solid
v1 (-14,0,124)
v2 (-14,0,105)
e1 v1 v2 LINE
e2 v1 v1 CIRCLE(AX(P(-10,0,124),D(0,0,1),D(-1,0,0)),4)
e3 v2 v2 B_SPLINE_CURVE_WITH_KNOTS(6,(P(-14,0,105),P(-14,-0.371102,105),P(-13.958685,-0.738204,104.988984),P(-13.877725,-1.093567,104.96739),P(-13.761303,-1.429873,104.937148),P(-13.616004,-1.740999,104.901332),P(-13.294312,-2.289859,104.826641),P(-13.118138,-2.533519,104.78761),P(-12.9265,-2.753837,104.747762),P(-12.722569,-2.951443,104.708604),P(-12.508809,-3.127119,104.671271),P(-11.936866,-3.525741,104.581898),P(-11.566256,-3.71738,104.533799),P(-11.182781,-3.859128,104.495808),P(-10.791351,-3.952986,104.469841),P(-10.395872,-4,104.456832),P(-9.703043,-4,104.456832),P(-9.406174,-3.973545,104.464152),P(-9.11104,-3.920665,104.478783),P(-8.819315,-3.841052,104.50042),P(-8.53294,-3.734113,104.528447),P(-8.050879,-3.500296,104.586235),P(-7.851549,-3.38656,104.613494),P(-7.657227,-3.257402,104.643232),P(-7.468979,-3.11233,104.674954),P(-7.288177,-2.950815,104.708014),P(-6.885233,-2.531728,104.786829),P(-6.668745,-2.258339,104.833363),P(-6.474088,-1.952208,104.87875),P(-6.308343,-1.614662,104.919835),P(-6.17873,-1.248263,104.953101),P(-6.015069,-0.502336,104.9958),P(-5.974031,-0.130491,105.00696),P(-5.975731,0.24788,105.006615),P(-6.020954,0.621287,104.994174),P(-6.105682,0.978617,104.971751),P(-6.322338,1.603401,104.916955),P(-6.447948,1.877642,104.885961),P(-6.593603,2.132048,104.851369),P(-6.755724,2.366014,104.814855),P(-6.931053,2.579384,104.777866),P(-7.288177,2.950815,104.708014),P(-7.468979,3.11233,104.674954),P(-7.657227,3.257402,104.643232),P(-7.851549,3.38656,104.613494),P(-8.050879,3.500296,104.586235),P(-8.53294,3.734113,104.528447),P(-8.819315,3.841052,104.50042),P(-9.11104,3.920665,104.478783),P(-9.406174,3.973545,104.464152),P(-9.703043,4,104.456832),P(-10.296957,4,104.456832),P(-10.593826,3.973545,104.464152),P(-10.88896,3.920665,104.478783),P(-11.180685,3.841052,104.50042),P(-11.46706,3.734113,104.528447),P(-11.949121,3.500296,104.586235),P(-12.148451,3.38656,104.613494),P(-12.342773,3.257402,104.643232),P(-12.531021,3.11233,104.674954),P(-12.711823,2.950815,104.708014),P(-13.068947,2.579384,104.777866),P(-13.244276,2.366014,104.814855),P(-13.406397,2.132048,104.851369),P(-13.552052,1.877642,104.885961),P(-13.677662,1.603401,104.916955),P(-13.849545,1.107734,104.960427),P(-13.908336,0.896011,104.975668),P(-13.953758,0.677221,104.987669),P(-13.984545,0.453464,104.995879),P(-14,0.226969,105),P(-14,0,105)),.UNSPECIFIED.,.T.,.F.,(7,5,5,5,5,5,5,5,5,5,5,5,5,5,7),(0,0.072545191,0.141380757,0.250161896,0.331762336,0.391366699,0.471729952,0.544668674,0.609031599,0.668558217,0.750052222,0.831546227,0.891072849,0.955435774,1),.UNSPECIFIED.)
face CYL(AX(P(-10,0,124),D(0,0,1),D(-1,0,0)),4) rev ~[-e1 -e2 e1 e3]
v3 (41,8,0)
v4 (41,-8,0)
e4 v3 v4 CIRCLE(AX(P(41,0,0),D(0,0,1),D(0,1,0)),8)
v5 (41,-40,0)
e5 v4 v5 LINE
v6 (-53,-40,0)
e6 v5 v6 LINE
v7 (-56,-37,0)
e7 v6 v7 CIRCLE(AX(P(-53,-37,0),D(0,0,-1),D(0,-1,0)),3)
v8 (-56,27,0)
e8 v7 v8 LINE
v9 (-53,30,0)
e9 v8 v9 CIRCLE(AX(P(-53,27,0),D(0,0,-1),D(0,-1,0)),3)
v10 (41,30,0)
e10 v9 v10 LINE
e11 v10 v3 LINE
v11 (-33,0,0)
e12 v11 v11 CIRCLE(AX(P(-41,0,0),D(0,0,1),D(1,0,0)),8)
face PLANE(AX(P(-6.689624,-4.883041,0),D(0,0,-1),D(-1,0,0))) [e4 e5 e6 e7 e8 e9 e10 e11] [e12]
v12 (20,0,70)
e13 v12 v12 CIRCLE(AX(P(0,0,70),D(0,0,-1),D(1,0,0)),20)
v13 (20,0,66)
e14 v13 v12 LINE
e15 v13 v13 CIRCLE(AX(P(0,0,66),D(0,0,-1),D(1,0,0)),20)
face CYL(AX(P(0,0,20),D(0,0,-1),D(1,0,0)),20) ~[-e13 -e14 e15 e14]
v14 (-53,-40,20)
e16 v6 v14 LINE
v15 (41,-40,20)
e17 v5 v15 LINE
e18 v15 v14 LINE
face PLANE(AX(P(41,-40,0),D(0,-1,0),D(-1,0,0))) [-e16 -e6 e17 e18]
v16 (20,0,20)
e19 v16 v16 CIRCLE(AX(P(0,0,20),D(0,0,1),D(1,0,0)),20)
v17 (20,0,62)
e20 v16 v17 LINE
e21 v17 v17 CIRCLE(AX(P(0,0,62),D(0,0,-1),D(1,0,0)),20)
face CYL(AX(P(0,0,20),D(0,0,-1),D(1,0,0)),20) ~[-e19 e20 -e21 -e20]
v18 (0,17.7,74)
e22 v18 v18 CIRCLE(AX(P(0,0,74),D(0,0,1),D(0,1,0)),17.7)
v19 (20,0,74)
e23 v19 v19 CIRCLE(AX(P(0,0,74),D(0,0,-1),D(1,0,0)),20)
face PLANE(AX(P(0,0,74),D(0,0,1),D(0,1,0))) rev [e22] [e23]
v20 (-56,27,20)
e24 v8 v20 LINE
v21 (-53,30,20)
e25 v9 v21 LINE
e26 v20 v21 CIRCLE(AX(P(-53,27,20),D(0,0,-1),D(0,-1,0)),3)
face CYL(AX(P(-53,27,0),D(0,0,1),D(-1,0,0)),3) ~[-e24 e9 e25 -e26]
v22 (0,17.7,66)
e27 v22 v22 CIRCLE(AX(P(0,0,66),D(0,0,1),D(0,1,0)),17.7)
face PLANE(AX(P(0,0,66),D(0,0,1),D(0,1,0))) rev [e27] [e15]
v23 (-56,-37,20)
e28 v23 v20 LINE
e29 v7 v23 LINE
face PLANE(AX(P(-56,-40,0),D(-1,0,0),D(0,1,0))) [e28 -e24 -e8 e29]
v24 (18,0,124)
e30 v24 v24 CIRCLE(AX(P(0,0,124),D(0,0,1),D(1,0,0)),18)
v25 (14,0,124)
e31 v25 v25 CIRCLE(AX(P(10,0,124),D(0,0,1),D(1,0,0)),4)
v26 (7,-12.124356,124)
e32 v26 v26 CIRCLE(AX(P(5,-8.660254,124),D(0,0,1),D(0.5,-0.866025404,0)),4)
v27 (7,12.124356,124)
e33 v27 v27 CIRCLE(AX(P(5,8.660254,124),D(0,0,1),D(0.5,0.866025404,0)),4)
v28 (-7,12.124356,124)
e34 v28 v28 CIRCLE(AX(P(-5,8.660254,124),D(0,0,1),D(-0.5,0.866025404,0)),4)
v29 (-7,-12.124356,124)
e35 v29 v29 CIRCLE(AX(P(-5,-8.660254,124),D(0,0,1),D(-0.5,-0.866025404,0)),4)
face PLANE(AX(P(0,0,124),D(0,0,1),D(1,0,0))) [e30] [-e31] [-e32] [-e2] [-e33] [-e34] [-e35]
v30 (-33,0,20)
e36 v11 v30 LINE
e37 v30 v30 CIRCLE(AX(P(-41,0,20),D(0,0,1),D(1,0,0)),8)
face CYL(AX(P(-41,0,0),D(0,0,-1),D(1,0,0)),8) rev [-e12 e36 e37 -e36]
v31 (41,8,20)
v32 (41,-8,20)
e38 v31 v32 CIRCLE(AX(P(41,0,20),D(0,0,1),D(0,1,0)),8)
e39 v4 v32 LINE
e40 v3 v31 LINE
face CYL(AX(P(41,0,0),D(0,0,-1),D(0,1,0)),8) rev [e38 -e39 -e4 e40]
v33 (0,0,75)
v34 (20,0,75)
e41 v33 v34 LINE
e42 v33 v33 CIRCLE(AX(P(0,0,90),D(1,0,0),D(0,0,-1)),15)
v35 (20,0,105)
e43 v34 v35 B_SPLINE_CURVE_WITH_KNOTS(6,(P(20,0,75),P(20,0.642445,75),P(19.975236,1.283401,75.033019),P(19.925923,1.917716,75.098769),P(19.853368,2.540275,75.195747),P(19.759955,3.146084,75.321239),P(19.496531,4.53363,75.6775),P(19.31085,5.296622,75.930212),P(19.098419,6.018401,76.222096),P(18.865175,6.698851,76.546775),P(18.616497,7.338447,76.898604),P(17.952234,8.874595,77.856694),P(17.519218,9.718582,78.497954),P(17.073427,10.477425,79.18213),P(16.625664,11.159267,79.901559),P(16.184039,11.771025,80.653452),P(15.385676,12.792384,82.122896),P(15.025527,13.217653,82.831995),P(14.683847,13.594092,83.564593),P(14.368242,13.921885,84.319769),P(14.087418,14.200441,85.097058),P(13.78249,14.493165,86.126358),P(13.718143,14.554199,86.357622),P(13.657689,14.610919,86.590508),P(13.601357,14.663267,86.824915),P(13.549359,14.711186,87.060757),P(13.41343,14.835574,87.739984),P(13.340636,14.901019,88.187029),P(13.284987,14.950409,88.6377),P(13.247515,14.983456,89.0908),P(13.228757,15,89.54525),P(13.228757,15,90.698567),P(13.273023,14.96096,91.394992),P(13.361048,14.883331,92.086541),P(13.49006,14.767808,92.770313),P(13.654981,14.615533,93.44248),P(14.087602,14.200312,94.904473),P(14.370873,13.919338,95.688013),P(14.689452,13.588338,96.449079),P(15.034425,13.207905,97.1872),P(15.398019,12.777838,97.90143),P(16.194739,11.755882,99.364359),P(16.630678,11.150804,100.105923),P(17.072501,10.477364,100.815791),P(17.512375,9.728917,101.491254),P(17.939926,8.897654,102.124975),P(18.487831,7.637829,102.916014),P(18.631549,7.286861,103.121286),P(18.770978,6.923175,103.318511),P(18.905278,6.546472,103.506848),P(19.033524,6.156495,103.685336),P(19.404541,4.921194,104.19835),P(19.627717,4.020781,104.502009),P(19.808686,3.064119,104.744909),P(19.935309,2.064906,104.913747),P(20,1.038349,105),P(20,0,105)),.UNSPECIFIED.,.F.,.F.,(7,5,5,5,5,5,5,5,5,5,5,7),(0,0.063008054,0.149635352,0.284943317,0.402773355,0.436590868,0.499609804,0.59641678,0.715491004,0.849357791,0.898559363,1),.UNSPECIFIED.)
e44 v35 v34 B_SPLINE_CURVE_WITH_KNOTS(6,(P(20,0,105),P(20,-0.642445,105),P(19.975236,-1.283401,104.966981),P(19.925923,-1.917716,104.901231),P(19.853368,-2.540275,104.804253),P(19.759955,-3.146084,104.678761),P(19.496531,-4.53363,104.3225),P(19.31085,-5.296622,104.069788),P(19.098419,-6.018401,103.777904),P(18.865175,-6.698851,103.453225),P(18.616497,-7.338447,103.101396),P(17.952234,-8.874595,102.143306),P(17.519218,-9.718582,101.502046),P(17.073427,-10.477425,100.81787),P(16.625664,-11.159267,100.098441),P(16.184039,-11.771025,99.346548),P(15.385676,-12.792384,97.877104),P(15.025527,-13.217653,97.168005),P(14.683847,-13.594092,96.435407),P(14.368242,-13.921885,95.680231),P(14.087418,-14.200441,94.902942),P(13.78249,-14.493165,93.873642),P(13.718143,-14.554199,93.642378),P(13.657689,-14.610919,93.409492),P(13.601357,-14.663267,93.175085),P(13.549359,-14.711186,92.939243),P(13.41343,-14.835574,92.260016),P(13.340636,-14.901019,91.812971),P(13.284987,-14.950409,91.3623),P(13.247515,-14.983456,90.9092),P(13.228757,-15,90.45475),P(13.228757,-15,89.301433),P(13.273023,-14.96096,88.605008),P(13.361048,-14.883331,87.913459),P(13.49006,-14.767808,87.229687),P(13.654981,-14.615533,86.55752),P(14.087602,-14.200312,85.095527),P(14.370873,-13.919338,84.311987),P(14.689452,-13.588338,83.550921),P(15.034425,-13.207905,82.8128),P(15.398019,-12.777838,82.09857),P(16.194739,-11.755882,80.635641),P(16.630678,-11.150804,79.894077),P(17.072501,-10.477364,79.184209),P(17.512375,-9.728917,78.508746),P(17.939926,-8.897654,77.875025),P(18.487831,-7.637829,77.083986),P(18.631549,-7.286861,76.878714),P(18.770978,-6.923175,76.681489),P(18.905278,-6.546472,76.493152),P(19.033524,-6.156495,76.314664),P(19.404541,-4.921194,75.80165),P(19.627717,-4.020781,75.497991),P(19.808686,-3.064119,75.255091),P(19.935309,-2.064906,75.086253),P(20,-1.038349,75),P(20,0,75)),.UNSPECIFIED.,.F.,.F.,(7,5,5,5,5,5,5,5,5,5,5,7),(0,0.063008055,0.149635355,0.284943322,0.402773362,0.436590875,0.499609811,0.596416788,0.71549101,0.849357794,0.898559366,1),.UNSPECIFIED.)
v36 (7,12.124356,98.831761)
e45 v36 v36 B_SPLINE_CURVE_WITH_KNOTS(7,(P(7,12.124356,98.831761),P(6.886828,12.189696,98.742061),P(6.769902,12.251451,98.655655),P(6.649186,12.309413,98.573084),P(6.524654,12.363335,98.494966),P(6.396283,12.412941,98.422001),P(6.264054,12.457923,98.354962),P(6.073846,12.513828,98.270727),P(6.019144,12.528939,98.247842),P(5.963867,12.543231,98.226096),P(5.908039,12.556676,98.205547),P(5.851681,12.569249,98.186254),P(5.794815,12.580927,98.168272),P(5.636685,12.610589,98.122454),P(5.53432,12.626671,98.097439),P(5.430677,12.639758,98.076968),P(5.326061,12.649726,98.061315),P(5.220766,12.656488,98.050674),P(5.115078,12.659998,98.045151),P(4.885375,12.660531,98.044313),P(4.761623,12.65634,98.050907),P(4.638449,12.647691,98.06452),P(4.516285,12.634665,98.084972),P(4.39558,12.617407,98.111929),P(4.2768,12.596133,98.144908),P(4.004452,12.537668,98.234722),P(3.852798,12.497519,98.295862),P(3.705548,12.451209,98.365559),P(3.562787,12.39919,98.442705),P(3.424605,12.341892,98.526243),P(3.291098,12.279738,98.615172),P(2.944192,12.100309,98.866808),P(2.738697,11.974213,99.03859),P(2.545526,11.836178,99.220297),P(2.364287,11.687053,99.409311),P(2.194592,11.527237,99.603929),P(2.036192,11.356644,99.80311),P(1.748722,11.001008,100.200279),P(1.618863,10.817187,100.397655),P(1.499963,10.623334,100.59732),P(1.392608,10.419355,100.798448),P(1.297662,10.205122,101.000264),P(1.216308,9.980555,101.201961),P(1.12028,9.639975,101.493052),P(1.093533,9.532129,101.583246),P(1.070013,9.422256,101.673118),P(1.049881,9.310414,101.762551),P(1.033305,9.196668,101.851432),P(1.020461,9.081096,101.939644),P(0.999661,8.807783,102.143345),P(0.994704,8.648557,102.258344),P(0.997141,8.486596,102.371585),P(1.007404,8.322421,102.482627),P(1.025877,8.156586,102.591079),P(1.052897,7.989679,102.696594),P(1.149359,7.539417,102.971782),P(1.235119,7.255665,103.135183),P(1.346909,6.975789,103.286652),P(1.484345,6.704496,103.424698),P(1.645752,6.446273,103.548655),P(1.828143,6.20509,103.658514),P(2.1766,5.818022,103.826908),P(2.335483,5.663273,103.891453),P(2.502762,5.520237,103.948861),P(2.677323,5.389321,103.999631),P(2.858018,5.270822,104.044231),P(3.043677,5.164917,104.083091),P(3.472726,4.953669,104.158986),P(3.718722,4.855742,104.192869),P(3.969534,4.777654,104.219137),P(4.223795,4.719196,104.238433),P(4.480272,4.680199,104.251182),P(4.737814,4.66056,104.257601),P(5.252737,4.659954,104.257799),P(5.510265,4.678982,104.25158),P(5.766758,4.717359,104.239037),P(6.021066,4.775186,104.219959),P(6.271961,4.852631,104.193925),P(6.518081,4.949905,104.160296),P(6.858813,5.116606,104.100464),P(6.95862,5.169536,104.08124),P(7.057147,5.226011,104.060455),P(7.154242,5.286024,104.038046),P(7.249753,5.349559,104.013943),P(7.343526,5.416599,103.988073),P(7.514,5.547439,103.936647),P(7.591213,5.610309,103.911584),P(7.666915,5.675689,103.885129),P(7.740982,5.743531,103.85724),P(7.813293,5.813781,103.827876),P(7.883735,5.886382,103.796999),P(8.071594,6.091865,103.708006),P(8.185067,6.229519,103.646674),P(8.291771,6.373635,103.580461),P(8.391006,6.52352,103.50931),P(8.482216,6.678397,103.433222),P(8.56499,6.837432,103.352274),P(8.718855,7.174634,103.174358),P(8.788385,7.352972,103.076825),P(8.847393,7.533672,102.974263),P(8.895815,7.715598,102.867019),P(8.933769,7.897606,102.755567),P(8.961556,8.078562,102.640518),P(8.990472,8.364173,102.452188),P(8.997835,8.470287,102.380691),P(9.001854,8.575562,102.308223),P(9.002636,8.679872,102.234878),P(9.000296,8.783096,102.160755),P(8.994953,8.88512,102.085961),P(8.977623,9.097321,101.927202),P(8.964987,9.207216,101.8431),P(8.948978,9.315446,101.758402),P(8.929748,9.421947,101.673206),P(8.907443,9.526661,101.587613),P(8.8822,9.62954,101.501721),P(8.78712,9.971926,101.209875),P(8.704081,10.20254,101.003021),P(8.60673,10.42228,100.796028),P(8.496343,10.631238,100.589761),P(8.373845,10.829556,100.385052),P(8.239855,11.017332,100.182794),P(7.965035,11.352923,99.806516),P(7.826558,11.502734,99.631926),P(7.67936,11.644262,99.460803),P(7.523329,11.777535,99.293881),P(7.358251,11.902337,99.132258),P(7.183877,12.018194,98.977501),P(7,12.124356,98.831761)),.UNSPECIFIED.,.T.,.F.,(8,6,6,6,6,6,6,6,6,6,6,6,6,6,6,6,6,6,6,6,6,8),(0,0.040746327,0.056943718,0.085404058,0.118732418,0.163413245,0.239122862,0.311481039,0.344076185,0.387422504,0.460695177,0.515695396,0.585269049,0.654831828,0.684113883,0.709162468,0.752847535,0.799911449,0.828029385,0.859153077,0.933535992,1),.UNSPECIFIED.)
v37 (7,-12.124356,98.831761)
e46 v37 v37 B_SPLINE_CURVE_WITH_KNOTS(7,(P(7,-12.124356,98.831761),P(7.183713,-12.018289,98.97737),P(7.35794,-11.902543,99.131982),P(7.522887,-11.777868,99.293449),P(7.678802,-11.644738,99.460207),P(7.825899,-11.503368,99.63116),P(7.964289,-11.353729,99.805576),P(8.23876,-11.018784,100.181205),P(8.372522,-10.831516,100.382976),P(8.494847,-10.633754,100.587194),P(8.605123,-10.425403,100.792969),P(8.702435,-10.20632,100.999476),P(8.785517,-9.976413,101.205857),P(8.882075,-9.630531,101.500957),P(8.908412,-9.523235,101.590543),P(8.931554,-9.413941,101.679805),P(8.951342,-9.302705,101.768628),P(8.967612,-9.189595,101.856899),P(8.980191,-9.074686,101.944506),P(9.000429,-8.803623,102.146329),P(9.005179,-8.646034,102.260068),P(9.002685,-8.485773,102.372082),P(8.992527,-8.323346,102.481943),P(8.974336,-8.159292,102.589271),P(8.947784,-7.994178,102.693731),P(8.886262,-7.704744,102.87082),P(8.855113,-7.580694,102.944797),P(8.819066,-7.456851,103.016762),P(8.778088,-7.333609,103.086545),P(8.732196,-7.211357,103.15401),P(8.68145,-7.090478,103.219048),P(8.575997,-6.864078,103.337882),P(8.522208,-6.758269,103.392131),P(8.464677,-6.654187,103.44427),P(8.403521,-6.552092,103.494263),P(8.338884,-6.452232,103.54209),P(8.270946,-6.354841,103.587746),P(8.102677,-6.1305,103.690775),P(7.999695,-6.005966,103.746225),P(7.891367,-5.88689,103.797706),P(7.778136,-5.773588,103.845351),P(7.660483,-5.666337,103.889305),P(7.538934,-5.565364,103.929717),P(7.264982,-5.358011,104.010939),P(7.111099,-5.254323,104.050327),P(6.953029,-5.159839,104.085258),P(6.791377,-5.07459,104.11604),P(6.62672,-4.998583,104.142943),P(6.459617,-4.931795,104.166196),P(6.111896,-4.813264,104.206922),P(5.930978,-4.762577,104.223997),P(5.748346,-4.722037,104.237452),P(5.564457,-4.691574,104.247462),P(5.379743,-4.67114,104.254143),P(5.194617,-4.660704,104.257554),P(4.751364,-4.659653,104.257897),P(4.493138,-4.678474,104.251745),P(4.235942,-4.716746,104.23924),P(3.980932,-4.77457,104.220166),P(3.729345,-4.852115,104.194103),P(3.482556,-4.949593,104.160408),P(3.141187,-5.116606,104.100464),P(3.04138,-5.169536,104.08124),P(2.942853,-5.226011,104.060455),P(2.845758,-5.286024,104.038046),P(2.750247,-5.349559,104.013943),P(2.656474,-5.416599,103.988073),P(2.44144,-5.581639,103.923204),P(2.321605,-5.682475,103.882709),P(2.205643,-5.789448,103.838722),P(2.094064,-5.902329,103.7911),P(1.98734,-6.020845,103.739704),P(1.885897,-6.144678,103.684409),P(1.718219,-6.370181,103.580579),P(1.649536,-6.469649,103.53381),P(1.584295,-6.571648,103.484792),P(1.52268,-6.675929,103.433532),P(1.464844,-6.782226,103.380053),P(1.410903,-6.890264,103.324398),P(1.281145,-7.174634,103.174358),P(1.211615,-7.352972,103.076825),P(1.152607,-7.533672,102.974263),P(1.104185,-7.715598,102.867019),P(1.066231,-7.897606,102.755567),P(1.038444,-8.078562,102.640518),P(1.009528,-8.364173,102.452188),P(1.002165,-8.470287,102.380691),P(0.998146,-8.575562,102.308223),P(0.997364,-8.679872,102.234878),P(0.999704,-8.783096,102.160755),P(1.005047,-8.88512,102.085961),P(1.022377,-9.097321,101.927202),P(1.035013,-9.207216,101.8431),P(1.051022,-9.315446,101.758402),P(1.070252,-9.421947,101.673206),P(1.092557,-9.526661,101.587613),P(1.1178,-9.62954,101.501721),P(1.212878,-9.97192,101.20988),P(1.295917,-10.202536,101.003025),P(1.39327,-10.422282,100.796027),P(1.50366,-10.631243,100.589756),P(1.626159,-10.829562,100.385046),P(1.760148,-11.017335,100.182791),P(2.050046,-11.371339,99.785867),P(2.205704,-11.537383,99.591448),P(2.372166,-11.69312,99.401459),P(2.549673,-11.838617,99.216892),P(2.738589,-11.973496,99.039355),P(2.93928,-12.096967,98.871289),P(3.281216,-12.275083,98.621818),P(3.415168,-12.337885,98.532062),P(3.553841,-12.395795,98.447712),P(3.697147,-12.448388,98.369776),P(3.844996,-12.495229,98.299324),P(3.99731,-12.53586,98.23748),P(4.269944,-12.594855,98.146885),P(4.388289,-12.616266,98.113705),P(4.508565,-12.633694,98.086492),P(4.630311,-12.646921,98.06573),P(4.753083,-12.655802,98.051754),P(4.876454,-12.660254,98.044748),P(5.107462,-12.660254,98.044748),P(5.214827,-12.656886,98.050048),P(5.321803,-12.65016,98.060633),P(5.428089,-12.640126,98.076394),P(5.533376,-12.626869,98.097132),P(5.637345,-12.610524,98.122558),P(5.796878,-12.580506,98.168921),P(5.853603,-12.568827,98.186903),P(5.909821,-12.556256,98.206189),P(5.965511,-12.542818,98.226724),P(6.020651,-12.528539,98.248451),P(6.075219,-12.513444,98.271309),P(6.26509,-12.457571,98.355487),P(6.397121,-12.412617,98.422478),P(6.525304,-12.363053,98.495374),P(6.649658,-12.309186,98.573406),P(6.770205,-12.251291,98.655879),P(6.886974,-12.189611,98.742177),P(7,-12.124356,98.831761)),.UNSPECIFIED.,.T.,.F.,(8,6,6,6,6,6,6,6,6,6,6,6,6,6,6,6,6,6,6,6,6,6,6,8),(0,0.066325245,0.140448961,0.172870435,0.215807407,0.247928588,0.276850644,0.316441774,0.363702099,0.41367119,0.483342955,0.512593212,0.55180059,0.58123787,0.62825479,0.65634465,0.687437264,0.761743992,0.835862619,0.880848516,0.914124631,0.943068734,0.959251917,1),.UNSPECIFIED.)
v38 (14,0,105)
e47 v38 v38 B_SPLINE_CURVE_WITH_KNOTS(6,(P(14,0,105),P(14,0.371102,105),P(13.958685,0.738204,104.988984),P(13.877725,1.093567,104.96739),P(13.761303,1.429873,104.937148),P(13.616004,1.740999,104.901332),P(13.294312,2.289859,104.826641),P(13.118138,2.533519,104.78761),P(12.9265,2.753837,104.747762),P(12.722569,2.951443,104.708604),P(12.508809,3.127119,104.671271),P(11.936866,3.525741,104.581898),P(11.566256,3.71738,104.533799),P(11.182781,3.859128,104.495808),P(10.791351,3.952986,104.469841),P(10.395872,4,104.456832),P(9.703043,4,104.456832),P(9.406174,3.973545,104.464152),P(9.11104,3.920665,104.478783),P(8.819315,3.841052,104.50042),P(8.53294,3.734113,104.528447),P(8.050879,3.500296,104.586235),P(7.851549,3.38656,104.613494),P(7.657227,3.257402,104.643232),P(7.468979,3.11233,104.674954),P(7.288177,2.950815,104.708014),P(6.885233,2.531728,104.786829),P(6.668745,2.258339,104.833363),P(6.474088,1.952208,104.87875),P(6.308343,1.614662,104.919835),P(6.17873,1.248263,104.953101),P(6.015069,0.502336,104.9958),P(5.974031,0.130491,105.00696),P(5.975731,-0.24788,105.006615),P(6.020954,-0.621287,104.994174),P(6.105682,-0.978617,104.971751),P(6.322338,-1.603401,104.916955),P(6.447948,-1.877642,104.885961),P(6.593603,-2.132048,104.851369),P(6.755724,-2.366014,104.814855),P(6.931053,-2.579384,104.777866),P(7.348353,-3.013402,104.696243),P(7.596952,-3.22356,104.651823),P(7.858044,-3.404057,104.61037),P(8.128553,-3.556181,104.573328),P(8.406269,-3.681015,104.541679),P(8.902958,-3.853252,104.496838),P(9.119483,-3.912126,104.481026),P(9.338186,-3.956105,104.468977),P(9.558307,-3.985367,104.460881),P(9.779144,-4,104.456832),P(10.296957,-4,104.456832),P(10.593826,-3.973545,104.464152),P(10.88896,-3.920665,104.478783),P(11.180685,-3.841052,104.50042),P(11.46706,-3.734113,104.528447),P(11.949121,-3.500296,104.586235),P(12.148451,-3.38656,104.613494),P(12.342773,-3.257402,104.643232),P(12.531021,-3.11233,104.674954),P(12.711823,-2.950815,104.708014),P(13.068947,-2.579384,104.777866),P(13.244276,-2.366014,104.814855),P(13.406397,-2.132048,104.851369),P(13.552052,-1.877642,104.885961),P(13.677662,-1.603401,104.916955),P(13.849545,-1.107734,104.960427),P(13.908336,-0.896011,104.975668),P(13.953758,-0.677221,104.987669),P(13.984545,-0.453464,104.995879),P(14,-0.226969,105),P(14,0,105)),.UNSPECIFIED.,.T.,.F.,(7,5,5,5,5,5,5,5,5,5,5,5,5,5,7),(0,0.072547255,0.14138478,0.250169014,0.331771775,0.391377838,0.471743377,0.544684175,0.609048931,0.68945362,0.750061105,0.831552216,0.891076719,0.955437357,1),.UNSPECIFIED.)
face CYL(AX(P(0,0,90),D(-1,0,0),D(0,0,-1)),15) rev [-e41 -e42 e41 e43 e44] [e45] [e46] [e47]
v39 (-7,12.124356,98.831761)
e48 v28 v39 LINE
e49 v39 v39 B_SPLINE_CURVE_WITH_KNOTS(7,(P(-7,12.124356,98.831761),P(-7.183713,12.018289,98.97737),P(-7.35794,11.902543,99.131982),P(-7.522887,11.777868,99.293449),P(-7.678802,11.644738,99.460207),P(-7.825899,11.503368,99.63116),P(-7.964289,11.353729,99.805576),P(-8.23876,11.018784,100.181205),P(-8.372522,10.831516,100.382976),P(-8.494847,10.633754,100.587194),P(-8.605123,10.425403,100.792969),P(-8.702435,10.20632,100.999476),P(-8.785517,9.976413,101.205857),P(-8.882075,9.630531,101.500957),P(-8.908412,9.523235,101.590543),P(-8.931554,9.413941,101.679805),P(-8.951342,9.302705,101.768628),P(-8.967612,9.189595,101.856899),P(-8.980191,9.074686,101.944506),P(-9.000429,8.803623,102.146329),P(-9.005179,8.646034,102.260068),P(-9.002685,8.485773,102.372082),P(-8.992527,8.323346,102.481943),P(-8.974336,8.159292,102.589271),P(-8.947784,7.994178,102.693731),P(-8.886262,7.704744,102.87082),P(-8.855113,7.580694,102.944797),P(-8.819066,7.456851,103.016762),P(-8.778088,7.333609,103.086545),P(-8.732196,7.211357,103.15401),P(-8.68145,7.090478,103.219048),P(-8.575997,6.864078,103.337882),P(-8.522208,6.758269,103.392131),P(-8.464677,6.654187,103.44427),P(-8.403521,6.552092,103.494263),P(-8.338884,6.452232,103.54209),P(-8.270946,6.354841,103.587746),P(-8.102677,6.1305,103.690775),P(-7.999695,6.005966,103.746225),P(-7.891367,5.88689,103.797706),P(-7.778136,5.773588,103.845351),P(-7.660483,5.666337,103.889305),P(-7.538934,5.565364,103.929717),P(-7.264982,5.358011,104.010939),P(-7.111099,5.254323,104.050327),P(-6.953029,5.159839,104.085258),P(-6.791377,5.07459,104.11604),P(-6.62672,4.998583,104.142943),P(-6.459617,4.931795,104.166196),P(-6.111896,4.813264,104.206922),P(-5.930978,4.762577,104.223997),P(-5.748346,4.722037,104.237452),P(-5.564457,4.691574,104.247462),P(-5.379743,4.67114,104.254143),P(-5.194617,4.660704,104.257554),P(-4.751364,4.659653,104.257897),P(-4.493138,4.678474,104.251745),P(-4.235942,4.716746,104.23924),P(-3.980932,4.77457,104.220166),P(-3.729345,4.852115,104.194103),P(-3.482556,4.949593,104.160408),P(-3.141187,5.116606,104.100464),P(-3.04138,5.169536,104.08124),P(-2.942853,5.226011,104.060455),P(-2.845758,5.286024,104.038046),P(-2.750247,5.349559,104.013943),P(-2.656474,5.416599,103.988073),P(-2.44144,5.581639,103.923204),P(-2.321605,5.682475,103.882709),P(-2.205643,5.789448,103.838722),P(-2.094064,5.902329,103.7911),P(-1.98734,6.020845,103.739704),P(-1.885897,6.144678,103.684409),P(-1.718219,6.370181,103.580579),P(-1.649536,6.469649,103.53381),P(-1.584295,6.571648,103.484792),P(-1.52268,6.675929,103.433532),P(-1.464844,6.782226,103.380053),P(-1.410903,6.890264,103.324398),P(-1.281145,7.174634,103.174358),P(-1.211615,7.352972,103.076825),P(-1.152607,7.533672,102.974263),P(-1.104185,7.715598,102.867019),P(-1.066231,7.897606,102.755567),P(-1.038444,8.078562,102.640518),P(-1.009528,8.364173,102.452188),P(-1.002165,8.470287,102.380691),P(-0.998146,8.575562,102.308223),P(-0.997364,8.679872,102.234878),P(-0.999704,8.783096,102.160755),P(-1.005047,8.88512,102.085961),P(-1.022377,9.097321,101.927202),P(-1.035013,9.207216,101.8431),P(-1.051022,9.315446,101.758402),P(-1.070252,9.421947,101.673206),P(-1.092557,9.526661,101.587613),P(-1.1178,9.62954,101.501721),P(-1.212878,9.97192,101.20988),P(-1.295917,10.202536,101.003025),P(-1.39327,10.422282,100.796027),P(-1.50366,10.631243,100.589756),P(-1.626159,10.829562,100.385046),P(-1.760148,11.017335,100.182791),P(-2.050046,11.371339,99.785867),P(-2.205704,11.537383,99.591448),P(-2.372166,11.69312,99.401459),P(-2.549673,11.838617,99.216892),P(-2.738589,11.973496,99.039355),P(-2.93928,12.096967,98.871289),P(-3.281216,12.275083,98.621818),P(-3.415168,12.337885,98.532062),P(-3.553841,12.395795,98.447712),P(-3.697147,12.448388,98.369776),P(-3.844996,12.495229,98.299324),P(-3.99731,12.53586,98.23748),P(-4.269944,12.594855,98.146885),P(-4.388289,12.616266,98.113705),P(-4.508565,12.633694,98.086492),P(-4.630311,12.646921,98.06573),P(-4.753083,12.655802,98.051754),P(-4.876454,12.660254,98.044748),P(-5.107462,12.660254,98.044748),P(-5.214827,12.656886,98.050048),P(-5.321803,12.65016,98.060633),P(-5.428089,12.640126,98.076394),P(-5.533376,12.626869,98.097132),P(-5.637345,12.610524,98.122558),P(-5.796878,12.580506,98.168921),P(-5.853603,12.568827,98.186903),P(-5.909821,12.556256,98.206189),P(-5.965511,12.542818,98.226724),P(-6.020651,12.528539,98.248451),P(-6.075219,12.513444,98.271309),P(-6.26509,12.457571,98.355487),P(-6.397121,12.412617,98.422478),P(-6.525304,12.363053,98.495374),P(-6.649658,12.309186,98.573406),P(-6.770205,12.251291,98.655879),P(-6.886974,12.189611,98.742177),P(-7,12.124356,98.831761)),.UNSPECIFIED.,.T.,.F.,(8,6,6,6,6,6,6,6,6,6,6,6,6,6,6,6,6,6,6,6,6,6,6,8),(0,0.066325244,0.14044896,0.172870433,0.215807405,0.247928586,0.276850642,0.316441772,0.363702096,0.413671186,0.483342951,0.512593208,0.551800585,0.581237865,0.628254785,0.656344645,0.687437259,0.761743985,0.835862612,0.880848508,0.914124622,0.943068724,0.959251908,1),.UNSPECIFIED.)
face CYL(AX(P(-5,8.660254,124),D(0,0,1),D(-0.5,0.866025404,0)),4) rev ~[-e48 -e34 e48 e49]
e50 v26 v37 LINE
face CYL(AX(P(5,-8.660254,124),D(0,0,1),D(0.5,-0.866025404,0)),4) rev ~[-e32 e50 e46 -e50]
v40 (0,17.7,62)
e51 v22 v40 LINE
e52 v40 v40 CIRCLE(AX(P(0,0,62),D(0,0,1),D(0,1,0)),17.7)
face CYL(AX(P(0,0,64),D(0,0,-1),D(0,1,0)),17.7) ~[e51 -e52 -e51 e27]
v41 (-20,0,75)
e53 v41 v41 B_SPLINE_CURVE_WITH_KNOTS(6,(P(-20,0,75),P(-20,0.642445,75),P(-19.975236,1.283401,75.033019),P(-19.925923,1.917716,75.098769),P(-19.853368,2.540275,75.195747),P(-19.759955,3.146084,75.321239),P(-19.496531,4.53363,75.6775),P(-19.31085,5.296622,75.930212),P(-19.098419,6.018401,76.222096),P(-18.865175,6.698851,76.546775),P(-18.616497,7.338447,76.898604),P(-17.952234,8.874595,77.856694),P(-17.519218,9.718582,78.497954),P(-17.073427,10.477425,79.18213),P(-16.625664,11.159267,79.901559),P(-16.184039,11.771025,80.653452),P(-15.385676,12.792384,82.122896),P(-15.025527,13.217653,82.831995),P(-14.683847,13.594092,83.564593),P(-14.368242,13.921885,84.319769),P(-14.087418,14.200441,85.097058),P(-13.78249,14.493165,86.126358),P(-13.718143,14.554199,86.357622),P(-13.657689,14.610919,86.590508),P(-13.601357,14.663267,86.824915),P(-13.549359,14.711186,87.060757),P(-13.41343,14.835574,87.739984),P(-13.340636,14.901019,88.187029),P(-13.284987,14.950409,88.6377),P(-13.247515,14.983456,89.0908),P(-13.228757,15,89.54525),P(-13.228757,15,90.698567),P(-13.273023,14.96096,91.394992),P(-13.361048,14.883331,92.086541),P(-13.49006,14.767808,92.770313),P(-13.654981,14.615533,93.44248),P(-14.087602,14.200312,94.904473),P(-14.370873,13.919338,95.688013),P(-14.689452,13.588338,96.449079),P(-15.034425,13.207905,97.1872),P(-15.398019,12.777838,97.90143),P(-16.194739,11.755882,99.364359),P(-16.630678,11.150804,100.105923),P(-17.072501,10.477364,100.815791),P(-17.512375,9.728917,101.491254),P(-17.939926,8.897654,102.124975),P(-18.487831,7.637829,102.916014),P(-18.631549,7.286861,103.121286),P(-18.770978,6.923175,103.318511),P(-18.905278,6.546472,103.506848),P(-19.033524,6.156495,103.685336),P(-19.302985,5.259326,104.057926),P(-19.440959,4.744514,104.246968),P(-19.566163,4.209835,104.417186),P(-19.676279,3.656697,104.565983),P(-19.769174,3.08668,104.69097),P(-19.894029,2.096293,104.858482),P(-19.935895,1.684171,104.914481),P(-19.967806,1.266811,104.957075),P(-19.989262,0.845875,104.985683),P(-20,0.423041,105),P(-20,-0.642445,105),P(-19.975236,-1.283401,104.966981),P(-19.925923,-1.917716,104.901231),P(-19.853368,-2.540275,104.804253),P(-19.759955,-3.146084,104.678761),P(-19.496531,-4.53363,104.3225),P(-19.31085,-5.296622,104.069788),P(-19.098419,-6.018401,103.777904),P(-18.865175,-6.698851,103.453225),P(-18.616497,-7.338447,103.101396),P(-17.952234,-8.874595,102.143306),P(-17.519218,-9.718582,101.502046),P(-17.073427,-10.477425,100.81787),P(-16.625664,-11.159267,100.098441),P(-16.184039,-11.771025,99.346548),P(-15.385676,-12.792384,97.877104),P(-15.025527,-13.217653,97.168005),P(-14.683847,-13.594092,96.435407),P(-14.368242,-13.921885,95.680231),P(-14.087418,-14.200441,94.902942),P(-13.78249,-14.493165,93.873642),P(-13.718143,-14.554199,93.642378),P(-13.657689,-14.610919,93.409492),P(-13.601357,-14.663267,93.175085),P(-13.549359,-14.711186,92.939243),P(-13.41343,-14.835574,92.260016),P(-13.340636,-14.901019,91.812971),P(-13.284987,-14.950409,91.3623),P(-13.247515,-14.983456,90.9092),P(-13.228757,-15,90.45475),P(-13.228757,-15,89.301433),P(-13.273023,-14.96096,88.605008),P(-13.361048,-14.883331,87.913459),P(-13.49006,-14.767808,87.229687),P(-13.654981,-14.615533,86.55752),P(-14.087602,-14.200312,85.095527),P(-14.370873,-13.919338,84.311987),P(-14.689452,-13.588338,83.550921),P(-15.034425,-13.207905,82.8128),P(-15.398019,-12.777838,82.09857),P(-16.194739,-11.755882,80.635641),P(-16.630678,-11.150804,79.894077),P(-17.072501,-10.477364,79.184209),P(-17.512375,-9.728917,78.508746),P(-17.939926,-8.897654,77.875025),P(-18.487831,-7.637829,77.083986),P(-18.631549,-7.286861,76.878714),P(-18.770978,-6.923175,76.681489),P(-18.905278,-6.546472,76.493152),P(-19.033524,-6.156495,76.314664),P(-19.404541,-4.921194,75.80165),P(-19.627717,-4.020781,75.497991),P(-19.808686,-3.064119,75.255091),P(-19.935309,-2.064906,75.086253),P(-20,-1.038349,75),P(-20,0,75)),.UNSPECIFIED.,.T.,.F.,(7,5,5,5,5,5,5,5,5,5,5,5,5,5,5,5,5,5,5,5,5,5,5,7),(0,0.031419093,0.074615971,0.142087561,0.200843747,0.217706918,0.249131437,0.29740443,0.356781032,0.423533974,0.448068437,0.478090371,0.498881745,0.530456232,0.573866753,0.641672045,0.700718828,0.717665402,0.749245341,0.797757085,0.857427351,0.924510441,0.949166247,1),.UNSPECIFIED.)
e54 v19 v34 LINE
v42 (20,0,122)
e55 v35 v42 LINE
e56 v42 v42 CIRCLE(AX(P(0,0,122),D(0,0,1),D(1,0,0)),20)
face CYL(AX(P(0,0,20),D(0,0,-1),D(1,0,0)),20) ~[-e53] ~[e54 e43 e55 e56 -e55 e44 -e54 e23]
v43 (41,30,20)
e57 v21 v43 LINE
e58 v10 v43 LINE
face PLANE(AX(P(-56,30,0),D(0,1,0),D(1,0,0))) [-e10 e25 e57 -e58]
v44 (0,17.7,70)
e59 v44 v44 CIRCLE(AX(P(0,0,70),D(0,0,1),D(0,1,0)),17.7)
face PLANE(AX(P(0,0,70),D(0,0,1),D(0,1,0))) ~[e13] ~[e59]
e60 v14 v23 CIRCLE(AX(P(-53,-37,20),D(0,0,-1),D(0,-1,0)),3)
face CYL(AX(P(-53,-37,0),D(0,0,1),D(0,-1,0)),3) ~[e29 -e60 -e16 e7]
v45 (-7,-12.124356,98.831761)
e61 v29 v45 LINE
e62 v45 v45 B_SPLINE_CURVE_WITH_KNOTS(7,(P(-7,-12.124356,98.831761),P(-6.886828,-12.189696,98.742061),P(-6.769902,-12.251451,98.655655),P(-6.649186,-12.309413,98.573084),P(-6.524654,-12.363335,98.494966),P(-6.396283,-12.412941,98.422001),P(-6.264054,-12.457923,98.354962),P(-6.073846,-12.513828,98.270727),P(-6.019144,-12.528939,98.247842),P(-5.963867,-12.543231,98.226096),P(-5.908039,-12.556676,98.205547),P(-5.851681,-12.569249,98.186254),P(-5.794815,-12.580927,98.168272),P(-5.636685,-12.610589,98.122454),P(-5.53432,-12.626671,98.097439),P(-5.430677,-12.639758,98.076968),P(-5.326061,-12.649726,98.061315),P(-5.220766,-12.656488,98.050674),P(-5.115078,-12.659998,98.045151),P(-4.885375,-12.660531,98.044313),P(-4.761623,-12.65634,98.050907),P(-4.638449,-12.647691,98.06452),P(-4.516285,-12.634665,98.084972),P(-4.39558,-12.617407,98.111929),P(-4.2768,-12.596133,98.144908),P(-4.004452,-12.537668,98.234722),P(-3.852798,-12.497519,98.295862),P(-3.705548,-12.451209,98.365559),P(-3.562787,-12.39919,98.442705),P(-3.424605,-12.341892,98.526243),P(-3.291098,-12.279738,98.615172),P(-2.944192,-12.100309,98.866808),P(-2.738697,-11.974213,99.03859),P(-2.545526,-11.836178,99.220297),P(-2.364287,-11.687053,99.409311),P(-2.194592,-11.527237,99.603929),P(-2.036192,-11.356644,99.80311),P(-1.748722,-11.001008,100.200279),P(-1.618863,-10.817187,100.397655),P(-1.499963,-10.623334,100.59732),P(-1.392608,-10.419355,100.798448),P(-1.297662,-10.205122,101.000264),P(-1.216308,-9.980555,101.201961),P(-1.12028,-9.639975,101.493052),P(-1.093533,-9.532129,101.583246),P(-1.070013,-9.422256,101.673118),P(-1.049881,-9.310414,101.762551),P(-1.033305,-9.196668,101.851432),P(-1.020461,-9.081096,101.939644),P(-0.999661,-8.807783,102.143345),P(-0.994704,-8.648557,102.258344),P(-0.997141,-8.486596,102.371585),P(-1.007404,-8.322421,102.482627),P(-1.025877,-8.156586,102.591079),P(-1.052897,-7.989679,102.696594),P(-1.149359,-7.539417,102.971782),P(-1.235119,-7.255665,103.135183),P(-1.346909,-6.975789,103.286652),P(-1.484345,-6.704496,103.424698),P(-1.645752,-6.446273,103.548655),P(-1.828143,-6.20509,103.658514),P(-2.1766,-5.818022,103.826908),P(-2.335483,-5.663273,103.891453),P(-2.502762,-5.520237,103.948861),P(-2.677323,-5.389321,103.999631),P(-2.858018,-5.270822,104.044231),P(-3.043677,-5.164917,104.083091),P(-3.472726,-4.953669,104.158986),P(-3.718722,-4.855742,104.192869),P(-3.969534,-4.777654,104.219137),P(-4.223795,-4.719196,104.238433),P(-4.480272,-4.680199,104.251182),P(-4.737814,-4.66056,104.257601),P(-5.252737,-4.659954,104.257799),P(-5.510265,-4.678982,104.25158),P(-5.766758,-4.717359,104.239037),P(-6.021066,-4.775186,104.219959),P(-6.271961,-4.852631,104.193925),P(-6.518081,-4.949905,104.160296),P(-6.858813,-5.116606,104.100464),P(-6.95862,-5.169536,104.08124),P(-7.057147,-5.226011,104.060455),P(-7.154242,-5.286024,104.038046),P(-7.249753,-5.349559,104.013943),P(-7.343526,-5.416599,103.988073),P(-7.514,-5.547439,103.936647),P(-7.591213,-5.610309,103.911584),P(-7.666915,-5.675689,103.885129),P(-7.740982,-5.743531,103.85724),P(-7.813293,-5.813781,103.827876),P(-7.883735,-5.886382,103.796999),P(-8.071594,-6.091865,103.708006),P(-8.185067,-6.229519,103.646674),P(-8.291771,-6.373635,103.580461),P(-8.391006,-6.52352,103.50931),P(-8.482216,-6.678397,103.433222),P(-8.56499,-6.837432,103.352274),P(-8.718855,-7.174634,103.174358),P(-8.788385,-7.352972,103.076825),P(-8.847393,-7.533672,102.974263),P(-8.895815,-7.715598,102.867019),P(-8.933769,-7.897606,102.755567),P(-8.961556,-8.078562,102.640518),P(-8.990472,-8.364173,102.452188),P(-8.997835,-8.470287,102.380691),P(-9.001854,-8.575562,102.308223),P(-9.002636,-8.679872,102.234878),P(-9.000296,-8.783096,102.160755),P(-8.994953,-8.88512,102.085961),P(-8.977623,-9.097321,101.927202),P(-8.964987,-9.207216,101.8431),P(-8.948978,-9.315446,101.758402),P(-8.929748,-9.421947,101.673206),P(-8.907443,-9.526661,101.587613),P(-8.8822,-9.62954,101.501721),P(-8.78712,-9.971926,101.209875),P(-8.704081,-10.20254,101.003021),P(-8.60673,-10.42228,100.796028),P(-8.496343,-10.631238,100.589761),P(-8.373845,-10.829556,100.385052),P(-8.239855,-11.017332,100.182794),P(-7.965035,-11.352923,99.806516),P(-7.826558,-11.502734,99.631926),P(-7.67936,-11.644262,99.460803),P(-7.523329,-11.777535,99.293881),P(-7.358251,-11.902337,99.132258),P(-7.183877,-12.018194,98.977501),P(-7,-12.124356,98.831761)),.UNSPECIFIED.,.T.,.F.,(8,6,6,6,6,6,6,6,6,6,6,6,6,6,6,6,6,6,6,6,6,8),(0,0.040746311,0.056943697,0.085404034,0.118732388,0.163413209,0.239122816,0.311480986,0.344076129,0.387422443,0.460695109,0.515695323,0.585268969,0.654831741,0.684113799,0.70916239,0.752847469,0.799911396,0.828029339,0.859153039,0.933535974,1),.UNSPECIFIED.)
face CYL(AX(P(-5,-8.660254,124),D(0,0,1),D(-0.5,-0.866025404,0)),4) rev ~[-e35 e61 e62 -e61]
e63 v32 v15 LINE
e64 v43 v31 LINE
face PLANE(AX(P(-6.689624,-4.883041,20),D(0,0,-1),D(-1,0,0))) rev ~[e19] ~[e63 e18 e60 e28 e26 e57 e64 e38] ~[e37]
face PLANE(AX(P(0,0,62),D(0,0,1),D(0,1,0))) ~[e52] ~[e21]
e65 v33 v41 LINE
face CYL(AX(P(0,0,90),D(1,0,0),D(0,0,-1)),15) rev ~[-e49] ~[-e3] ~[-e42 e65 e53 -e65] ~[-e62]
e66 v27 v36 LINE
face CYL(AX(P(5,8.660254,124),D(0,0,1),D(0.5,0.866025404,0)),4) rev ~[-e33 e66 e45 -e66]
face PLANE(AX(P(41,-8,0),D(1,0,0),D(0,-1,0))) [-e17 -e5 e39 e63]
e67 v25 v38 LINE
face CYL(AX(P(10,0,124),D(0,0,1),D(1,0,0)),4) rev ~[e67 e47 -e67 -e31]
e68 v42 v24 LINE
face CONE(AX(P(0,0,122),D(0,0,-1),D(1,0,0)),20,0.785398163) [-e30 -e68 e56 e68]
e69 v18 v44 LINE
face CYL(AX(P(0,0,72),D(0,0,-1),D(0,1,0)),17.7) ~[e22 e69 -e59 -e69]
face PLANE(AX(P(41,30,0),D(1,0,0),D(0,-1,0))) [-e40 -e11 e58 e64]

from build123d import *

# Parameters (mm, degrees)
SKETCH1_R               = 8
BOSS_EXTRUDE1_DEPTH     = 20
SKETCH2_R               = 20
BOSS_EXTRUDE2_DEPTH     = 104
SKETCH3_R               = 15
CUT_EXTRUDE1_DEPTH      = 42
CUT_EXTRUDE1_DEPTH_BACK = 57
SKETCH4_W               = 4
SKETCH4_H               = 2.3
SKETCH5_R               = 4
CUT_EXTRUDE2_DEPTH      = 30
CIRPATTERN1_COUNT       = 6
FILLET1_R               = 3
CHAMFER1_SIZE           = 2


with BuildPart() as part:
    # Sketch1 → Boss-Extrude1 (new body)
    with BuildSketch(Plane.XY):
        with BuildLine():
            Line((41, -8), (41, -40))
            Line((41, -40), (-56, -40))
            Line((-56, -40), (-56, 30))
            Line((-56, 30), (41, 30))
            Line((41, 30), (41, 8))
            ThreePointArc((41, 8), (33, 0), (41, -8))
        make_face()
        with Locations((-41, 0)):
            Circle(SKETCH1_R, mode=Mode.SUBTRACT)
    extrude(amount=BOSS_EXTRUDE1_DEPTH)

    # Sketch2 → Boss-Extrude2 (add)
    with BuildSketch(Plane.XY.offset(20)):
        Circle(SKETCH2_R)
    extrude(amount=BOSS_EXTRUDE2_DEPTH)

    # Sketch3 → Cut-Extrude1 (cut, two sides)
    with BuildSketch(Plane(origin=(0, 0, 0), x_dir=(0, 0, -1), z_dir=(1, 0, 0))) as cut_extrude1_sk:
        with Locations((-90, 0)):
            Circle(SKETCH3_R)
    extrude(amount=CUT_EXTRUDE1_DEPTH, mode=Mode.SUBTRACT)
    extrude(cut_extrude1_sk.sketch, amount=-CUT_EXTRUDE1_DEPTH_BACK, mode=Mode.SUBTRACT)

    # Sketch4 → Cut-Revolve1 (revolve, cut)
    with BuildSketch(Plane(origin=(0, 0, 0), x_dir=(0, 0, -1), z_dir=(1, 0, 0))):
        with Locations((-72, 18.85)):
            Rectangle(SKETCH4_W, SKETCH4_H)
        with Locations((-64, 18.85)):
            Rectangle(SKETCH4_W, SKETCH4_H)
    revolve(axis=Axis((0, 0, 0), (0, 0, 1)), mode=Mode.SUBTRACT)

    # Sketch5 → Cut-Extrude2 (cut)
    with BuildSketch(Plane.XY.offset(124)):
        with Locations((10, 0)):
            Circle(SKETCH5_R)
    cut_extrude2 = extrude(amount=-CUT_EXTRUDE2_DEPTH, mode=Mode.SUBTRACT)

    # CirPattern1: Cut-Extrude2 ×6 about axis
    cirpattern1_axis = Axis((0, 0, 0), (0, 0, 1))
    for i in range(1, CIRPATTERN1_COUNT):
        add(cut_extrude2.rotate(cirpattern1_axis, i * 360 / CIRPATTERN1_COUNT), mode=Mode.SUBTRACT)

    # Fillet1
    fillet1_edges = [part.edges().sort_by_distance(p)[0] for p in [
        (-56, -40, 10),
        (-56, 30, 10),
    ]]
    fillet(fillet1_edges, radius=FILLET1_R)

    # Chamfer1
    chamfer1_edges = [part.edges().sort_by_distance(p)[0] for p in [
        (-20, 0, 124),
    ]]
    chamfer(chamfer1_edges, length=CHAMFER1_SIZE)


solid = part.part
